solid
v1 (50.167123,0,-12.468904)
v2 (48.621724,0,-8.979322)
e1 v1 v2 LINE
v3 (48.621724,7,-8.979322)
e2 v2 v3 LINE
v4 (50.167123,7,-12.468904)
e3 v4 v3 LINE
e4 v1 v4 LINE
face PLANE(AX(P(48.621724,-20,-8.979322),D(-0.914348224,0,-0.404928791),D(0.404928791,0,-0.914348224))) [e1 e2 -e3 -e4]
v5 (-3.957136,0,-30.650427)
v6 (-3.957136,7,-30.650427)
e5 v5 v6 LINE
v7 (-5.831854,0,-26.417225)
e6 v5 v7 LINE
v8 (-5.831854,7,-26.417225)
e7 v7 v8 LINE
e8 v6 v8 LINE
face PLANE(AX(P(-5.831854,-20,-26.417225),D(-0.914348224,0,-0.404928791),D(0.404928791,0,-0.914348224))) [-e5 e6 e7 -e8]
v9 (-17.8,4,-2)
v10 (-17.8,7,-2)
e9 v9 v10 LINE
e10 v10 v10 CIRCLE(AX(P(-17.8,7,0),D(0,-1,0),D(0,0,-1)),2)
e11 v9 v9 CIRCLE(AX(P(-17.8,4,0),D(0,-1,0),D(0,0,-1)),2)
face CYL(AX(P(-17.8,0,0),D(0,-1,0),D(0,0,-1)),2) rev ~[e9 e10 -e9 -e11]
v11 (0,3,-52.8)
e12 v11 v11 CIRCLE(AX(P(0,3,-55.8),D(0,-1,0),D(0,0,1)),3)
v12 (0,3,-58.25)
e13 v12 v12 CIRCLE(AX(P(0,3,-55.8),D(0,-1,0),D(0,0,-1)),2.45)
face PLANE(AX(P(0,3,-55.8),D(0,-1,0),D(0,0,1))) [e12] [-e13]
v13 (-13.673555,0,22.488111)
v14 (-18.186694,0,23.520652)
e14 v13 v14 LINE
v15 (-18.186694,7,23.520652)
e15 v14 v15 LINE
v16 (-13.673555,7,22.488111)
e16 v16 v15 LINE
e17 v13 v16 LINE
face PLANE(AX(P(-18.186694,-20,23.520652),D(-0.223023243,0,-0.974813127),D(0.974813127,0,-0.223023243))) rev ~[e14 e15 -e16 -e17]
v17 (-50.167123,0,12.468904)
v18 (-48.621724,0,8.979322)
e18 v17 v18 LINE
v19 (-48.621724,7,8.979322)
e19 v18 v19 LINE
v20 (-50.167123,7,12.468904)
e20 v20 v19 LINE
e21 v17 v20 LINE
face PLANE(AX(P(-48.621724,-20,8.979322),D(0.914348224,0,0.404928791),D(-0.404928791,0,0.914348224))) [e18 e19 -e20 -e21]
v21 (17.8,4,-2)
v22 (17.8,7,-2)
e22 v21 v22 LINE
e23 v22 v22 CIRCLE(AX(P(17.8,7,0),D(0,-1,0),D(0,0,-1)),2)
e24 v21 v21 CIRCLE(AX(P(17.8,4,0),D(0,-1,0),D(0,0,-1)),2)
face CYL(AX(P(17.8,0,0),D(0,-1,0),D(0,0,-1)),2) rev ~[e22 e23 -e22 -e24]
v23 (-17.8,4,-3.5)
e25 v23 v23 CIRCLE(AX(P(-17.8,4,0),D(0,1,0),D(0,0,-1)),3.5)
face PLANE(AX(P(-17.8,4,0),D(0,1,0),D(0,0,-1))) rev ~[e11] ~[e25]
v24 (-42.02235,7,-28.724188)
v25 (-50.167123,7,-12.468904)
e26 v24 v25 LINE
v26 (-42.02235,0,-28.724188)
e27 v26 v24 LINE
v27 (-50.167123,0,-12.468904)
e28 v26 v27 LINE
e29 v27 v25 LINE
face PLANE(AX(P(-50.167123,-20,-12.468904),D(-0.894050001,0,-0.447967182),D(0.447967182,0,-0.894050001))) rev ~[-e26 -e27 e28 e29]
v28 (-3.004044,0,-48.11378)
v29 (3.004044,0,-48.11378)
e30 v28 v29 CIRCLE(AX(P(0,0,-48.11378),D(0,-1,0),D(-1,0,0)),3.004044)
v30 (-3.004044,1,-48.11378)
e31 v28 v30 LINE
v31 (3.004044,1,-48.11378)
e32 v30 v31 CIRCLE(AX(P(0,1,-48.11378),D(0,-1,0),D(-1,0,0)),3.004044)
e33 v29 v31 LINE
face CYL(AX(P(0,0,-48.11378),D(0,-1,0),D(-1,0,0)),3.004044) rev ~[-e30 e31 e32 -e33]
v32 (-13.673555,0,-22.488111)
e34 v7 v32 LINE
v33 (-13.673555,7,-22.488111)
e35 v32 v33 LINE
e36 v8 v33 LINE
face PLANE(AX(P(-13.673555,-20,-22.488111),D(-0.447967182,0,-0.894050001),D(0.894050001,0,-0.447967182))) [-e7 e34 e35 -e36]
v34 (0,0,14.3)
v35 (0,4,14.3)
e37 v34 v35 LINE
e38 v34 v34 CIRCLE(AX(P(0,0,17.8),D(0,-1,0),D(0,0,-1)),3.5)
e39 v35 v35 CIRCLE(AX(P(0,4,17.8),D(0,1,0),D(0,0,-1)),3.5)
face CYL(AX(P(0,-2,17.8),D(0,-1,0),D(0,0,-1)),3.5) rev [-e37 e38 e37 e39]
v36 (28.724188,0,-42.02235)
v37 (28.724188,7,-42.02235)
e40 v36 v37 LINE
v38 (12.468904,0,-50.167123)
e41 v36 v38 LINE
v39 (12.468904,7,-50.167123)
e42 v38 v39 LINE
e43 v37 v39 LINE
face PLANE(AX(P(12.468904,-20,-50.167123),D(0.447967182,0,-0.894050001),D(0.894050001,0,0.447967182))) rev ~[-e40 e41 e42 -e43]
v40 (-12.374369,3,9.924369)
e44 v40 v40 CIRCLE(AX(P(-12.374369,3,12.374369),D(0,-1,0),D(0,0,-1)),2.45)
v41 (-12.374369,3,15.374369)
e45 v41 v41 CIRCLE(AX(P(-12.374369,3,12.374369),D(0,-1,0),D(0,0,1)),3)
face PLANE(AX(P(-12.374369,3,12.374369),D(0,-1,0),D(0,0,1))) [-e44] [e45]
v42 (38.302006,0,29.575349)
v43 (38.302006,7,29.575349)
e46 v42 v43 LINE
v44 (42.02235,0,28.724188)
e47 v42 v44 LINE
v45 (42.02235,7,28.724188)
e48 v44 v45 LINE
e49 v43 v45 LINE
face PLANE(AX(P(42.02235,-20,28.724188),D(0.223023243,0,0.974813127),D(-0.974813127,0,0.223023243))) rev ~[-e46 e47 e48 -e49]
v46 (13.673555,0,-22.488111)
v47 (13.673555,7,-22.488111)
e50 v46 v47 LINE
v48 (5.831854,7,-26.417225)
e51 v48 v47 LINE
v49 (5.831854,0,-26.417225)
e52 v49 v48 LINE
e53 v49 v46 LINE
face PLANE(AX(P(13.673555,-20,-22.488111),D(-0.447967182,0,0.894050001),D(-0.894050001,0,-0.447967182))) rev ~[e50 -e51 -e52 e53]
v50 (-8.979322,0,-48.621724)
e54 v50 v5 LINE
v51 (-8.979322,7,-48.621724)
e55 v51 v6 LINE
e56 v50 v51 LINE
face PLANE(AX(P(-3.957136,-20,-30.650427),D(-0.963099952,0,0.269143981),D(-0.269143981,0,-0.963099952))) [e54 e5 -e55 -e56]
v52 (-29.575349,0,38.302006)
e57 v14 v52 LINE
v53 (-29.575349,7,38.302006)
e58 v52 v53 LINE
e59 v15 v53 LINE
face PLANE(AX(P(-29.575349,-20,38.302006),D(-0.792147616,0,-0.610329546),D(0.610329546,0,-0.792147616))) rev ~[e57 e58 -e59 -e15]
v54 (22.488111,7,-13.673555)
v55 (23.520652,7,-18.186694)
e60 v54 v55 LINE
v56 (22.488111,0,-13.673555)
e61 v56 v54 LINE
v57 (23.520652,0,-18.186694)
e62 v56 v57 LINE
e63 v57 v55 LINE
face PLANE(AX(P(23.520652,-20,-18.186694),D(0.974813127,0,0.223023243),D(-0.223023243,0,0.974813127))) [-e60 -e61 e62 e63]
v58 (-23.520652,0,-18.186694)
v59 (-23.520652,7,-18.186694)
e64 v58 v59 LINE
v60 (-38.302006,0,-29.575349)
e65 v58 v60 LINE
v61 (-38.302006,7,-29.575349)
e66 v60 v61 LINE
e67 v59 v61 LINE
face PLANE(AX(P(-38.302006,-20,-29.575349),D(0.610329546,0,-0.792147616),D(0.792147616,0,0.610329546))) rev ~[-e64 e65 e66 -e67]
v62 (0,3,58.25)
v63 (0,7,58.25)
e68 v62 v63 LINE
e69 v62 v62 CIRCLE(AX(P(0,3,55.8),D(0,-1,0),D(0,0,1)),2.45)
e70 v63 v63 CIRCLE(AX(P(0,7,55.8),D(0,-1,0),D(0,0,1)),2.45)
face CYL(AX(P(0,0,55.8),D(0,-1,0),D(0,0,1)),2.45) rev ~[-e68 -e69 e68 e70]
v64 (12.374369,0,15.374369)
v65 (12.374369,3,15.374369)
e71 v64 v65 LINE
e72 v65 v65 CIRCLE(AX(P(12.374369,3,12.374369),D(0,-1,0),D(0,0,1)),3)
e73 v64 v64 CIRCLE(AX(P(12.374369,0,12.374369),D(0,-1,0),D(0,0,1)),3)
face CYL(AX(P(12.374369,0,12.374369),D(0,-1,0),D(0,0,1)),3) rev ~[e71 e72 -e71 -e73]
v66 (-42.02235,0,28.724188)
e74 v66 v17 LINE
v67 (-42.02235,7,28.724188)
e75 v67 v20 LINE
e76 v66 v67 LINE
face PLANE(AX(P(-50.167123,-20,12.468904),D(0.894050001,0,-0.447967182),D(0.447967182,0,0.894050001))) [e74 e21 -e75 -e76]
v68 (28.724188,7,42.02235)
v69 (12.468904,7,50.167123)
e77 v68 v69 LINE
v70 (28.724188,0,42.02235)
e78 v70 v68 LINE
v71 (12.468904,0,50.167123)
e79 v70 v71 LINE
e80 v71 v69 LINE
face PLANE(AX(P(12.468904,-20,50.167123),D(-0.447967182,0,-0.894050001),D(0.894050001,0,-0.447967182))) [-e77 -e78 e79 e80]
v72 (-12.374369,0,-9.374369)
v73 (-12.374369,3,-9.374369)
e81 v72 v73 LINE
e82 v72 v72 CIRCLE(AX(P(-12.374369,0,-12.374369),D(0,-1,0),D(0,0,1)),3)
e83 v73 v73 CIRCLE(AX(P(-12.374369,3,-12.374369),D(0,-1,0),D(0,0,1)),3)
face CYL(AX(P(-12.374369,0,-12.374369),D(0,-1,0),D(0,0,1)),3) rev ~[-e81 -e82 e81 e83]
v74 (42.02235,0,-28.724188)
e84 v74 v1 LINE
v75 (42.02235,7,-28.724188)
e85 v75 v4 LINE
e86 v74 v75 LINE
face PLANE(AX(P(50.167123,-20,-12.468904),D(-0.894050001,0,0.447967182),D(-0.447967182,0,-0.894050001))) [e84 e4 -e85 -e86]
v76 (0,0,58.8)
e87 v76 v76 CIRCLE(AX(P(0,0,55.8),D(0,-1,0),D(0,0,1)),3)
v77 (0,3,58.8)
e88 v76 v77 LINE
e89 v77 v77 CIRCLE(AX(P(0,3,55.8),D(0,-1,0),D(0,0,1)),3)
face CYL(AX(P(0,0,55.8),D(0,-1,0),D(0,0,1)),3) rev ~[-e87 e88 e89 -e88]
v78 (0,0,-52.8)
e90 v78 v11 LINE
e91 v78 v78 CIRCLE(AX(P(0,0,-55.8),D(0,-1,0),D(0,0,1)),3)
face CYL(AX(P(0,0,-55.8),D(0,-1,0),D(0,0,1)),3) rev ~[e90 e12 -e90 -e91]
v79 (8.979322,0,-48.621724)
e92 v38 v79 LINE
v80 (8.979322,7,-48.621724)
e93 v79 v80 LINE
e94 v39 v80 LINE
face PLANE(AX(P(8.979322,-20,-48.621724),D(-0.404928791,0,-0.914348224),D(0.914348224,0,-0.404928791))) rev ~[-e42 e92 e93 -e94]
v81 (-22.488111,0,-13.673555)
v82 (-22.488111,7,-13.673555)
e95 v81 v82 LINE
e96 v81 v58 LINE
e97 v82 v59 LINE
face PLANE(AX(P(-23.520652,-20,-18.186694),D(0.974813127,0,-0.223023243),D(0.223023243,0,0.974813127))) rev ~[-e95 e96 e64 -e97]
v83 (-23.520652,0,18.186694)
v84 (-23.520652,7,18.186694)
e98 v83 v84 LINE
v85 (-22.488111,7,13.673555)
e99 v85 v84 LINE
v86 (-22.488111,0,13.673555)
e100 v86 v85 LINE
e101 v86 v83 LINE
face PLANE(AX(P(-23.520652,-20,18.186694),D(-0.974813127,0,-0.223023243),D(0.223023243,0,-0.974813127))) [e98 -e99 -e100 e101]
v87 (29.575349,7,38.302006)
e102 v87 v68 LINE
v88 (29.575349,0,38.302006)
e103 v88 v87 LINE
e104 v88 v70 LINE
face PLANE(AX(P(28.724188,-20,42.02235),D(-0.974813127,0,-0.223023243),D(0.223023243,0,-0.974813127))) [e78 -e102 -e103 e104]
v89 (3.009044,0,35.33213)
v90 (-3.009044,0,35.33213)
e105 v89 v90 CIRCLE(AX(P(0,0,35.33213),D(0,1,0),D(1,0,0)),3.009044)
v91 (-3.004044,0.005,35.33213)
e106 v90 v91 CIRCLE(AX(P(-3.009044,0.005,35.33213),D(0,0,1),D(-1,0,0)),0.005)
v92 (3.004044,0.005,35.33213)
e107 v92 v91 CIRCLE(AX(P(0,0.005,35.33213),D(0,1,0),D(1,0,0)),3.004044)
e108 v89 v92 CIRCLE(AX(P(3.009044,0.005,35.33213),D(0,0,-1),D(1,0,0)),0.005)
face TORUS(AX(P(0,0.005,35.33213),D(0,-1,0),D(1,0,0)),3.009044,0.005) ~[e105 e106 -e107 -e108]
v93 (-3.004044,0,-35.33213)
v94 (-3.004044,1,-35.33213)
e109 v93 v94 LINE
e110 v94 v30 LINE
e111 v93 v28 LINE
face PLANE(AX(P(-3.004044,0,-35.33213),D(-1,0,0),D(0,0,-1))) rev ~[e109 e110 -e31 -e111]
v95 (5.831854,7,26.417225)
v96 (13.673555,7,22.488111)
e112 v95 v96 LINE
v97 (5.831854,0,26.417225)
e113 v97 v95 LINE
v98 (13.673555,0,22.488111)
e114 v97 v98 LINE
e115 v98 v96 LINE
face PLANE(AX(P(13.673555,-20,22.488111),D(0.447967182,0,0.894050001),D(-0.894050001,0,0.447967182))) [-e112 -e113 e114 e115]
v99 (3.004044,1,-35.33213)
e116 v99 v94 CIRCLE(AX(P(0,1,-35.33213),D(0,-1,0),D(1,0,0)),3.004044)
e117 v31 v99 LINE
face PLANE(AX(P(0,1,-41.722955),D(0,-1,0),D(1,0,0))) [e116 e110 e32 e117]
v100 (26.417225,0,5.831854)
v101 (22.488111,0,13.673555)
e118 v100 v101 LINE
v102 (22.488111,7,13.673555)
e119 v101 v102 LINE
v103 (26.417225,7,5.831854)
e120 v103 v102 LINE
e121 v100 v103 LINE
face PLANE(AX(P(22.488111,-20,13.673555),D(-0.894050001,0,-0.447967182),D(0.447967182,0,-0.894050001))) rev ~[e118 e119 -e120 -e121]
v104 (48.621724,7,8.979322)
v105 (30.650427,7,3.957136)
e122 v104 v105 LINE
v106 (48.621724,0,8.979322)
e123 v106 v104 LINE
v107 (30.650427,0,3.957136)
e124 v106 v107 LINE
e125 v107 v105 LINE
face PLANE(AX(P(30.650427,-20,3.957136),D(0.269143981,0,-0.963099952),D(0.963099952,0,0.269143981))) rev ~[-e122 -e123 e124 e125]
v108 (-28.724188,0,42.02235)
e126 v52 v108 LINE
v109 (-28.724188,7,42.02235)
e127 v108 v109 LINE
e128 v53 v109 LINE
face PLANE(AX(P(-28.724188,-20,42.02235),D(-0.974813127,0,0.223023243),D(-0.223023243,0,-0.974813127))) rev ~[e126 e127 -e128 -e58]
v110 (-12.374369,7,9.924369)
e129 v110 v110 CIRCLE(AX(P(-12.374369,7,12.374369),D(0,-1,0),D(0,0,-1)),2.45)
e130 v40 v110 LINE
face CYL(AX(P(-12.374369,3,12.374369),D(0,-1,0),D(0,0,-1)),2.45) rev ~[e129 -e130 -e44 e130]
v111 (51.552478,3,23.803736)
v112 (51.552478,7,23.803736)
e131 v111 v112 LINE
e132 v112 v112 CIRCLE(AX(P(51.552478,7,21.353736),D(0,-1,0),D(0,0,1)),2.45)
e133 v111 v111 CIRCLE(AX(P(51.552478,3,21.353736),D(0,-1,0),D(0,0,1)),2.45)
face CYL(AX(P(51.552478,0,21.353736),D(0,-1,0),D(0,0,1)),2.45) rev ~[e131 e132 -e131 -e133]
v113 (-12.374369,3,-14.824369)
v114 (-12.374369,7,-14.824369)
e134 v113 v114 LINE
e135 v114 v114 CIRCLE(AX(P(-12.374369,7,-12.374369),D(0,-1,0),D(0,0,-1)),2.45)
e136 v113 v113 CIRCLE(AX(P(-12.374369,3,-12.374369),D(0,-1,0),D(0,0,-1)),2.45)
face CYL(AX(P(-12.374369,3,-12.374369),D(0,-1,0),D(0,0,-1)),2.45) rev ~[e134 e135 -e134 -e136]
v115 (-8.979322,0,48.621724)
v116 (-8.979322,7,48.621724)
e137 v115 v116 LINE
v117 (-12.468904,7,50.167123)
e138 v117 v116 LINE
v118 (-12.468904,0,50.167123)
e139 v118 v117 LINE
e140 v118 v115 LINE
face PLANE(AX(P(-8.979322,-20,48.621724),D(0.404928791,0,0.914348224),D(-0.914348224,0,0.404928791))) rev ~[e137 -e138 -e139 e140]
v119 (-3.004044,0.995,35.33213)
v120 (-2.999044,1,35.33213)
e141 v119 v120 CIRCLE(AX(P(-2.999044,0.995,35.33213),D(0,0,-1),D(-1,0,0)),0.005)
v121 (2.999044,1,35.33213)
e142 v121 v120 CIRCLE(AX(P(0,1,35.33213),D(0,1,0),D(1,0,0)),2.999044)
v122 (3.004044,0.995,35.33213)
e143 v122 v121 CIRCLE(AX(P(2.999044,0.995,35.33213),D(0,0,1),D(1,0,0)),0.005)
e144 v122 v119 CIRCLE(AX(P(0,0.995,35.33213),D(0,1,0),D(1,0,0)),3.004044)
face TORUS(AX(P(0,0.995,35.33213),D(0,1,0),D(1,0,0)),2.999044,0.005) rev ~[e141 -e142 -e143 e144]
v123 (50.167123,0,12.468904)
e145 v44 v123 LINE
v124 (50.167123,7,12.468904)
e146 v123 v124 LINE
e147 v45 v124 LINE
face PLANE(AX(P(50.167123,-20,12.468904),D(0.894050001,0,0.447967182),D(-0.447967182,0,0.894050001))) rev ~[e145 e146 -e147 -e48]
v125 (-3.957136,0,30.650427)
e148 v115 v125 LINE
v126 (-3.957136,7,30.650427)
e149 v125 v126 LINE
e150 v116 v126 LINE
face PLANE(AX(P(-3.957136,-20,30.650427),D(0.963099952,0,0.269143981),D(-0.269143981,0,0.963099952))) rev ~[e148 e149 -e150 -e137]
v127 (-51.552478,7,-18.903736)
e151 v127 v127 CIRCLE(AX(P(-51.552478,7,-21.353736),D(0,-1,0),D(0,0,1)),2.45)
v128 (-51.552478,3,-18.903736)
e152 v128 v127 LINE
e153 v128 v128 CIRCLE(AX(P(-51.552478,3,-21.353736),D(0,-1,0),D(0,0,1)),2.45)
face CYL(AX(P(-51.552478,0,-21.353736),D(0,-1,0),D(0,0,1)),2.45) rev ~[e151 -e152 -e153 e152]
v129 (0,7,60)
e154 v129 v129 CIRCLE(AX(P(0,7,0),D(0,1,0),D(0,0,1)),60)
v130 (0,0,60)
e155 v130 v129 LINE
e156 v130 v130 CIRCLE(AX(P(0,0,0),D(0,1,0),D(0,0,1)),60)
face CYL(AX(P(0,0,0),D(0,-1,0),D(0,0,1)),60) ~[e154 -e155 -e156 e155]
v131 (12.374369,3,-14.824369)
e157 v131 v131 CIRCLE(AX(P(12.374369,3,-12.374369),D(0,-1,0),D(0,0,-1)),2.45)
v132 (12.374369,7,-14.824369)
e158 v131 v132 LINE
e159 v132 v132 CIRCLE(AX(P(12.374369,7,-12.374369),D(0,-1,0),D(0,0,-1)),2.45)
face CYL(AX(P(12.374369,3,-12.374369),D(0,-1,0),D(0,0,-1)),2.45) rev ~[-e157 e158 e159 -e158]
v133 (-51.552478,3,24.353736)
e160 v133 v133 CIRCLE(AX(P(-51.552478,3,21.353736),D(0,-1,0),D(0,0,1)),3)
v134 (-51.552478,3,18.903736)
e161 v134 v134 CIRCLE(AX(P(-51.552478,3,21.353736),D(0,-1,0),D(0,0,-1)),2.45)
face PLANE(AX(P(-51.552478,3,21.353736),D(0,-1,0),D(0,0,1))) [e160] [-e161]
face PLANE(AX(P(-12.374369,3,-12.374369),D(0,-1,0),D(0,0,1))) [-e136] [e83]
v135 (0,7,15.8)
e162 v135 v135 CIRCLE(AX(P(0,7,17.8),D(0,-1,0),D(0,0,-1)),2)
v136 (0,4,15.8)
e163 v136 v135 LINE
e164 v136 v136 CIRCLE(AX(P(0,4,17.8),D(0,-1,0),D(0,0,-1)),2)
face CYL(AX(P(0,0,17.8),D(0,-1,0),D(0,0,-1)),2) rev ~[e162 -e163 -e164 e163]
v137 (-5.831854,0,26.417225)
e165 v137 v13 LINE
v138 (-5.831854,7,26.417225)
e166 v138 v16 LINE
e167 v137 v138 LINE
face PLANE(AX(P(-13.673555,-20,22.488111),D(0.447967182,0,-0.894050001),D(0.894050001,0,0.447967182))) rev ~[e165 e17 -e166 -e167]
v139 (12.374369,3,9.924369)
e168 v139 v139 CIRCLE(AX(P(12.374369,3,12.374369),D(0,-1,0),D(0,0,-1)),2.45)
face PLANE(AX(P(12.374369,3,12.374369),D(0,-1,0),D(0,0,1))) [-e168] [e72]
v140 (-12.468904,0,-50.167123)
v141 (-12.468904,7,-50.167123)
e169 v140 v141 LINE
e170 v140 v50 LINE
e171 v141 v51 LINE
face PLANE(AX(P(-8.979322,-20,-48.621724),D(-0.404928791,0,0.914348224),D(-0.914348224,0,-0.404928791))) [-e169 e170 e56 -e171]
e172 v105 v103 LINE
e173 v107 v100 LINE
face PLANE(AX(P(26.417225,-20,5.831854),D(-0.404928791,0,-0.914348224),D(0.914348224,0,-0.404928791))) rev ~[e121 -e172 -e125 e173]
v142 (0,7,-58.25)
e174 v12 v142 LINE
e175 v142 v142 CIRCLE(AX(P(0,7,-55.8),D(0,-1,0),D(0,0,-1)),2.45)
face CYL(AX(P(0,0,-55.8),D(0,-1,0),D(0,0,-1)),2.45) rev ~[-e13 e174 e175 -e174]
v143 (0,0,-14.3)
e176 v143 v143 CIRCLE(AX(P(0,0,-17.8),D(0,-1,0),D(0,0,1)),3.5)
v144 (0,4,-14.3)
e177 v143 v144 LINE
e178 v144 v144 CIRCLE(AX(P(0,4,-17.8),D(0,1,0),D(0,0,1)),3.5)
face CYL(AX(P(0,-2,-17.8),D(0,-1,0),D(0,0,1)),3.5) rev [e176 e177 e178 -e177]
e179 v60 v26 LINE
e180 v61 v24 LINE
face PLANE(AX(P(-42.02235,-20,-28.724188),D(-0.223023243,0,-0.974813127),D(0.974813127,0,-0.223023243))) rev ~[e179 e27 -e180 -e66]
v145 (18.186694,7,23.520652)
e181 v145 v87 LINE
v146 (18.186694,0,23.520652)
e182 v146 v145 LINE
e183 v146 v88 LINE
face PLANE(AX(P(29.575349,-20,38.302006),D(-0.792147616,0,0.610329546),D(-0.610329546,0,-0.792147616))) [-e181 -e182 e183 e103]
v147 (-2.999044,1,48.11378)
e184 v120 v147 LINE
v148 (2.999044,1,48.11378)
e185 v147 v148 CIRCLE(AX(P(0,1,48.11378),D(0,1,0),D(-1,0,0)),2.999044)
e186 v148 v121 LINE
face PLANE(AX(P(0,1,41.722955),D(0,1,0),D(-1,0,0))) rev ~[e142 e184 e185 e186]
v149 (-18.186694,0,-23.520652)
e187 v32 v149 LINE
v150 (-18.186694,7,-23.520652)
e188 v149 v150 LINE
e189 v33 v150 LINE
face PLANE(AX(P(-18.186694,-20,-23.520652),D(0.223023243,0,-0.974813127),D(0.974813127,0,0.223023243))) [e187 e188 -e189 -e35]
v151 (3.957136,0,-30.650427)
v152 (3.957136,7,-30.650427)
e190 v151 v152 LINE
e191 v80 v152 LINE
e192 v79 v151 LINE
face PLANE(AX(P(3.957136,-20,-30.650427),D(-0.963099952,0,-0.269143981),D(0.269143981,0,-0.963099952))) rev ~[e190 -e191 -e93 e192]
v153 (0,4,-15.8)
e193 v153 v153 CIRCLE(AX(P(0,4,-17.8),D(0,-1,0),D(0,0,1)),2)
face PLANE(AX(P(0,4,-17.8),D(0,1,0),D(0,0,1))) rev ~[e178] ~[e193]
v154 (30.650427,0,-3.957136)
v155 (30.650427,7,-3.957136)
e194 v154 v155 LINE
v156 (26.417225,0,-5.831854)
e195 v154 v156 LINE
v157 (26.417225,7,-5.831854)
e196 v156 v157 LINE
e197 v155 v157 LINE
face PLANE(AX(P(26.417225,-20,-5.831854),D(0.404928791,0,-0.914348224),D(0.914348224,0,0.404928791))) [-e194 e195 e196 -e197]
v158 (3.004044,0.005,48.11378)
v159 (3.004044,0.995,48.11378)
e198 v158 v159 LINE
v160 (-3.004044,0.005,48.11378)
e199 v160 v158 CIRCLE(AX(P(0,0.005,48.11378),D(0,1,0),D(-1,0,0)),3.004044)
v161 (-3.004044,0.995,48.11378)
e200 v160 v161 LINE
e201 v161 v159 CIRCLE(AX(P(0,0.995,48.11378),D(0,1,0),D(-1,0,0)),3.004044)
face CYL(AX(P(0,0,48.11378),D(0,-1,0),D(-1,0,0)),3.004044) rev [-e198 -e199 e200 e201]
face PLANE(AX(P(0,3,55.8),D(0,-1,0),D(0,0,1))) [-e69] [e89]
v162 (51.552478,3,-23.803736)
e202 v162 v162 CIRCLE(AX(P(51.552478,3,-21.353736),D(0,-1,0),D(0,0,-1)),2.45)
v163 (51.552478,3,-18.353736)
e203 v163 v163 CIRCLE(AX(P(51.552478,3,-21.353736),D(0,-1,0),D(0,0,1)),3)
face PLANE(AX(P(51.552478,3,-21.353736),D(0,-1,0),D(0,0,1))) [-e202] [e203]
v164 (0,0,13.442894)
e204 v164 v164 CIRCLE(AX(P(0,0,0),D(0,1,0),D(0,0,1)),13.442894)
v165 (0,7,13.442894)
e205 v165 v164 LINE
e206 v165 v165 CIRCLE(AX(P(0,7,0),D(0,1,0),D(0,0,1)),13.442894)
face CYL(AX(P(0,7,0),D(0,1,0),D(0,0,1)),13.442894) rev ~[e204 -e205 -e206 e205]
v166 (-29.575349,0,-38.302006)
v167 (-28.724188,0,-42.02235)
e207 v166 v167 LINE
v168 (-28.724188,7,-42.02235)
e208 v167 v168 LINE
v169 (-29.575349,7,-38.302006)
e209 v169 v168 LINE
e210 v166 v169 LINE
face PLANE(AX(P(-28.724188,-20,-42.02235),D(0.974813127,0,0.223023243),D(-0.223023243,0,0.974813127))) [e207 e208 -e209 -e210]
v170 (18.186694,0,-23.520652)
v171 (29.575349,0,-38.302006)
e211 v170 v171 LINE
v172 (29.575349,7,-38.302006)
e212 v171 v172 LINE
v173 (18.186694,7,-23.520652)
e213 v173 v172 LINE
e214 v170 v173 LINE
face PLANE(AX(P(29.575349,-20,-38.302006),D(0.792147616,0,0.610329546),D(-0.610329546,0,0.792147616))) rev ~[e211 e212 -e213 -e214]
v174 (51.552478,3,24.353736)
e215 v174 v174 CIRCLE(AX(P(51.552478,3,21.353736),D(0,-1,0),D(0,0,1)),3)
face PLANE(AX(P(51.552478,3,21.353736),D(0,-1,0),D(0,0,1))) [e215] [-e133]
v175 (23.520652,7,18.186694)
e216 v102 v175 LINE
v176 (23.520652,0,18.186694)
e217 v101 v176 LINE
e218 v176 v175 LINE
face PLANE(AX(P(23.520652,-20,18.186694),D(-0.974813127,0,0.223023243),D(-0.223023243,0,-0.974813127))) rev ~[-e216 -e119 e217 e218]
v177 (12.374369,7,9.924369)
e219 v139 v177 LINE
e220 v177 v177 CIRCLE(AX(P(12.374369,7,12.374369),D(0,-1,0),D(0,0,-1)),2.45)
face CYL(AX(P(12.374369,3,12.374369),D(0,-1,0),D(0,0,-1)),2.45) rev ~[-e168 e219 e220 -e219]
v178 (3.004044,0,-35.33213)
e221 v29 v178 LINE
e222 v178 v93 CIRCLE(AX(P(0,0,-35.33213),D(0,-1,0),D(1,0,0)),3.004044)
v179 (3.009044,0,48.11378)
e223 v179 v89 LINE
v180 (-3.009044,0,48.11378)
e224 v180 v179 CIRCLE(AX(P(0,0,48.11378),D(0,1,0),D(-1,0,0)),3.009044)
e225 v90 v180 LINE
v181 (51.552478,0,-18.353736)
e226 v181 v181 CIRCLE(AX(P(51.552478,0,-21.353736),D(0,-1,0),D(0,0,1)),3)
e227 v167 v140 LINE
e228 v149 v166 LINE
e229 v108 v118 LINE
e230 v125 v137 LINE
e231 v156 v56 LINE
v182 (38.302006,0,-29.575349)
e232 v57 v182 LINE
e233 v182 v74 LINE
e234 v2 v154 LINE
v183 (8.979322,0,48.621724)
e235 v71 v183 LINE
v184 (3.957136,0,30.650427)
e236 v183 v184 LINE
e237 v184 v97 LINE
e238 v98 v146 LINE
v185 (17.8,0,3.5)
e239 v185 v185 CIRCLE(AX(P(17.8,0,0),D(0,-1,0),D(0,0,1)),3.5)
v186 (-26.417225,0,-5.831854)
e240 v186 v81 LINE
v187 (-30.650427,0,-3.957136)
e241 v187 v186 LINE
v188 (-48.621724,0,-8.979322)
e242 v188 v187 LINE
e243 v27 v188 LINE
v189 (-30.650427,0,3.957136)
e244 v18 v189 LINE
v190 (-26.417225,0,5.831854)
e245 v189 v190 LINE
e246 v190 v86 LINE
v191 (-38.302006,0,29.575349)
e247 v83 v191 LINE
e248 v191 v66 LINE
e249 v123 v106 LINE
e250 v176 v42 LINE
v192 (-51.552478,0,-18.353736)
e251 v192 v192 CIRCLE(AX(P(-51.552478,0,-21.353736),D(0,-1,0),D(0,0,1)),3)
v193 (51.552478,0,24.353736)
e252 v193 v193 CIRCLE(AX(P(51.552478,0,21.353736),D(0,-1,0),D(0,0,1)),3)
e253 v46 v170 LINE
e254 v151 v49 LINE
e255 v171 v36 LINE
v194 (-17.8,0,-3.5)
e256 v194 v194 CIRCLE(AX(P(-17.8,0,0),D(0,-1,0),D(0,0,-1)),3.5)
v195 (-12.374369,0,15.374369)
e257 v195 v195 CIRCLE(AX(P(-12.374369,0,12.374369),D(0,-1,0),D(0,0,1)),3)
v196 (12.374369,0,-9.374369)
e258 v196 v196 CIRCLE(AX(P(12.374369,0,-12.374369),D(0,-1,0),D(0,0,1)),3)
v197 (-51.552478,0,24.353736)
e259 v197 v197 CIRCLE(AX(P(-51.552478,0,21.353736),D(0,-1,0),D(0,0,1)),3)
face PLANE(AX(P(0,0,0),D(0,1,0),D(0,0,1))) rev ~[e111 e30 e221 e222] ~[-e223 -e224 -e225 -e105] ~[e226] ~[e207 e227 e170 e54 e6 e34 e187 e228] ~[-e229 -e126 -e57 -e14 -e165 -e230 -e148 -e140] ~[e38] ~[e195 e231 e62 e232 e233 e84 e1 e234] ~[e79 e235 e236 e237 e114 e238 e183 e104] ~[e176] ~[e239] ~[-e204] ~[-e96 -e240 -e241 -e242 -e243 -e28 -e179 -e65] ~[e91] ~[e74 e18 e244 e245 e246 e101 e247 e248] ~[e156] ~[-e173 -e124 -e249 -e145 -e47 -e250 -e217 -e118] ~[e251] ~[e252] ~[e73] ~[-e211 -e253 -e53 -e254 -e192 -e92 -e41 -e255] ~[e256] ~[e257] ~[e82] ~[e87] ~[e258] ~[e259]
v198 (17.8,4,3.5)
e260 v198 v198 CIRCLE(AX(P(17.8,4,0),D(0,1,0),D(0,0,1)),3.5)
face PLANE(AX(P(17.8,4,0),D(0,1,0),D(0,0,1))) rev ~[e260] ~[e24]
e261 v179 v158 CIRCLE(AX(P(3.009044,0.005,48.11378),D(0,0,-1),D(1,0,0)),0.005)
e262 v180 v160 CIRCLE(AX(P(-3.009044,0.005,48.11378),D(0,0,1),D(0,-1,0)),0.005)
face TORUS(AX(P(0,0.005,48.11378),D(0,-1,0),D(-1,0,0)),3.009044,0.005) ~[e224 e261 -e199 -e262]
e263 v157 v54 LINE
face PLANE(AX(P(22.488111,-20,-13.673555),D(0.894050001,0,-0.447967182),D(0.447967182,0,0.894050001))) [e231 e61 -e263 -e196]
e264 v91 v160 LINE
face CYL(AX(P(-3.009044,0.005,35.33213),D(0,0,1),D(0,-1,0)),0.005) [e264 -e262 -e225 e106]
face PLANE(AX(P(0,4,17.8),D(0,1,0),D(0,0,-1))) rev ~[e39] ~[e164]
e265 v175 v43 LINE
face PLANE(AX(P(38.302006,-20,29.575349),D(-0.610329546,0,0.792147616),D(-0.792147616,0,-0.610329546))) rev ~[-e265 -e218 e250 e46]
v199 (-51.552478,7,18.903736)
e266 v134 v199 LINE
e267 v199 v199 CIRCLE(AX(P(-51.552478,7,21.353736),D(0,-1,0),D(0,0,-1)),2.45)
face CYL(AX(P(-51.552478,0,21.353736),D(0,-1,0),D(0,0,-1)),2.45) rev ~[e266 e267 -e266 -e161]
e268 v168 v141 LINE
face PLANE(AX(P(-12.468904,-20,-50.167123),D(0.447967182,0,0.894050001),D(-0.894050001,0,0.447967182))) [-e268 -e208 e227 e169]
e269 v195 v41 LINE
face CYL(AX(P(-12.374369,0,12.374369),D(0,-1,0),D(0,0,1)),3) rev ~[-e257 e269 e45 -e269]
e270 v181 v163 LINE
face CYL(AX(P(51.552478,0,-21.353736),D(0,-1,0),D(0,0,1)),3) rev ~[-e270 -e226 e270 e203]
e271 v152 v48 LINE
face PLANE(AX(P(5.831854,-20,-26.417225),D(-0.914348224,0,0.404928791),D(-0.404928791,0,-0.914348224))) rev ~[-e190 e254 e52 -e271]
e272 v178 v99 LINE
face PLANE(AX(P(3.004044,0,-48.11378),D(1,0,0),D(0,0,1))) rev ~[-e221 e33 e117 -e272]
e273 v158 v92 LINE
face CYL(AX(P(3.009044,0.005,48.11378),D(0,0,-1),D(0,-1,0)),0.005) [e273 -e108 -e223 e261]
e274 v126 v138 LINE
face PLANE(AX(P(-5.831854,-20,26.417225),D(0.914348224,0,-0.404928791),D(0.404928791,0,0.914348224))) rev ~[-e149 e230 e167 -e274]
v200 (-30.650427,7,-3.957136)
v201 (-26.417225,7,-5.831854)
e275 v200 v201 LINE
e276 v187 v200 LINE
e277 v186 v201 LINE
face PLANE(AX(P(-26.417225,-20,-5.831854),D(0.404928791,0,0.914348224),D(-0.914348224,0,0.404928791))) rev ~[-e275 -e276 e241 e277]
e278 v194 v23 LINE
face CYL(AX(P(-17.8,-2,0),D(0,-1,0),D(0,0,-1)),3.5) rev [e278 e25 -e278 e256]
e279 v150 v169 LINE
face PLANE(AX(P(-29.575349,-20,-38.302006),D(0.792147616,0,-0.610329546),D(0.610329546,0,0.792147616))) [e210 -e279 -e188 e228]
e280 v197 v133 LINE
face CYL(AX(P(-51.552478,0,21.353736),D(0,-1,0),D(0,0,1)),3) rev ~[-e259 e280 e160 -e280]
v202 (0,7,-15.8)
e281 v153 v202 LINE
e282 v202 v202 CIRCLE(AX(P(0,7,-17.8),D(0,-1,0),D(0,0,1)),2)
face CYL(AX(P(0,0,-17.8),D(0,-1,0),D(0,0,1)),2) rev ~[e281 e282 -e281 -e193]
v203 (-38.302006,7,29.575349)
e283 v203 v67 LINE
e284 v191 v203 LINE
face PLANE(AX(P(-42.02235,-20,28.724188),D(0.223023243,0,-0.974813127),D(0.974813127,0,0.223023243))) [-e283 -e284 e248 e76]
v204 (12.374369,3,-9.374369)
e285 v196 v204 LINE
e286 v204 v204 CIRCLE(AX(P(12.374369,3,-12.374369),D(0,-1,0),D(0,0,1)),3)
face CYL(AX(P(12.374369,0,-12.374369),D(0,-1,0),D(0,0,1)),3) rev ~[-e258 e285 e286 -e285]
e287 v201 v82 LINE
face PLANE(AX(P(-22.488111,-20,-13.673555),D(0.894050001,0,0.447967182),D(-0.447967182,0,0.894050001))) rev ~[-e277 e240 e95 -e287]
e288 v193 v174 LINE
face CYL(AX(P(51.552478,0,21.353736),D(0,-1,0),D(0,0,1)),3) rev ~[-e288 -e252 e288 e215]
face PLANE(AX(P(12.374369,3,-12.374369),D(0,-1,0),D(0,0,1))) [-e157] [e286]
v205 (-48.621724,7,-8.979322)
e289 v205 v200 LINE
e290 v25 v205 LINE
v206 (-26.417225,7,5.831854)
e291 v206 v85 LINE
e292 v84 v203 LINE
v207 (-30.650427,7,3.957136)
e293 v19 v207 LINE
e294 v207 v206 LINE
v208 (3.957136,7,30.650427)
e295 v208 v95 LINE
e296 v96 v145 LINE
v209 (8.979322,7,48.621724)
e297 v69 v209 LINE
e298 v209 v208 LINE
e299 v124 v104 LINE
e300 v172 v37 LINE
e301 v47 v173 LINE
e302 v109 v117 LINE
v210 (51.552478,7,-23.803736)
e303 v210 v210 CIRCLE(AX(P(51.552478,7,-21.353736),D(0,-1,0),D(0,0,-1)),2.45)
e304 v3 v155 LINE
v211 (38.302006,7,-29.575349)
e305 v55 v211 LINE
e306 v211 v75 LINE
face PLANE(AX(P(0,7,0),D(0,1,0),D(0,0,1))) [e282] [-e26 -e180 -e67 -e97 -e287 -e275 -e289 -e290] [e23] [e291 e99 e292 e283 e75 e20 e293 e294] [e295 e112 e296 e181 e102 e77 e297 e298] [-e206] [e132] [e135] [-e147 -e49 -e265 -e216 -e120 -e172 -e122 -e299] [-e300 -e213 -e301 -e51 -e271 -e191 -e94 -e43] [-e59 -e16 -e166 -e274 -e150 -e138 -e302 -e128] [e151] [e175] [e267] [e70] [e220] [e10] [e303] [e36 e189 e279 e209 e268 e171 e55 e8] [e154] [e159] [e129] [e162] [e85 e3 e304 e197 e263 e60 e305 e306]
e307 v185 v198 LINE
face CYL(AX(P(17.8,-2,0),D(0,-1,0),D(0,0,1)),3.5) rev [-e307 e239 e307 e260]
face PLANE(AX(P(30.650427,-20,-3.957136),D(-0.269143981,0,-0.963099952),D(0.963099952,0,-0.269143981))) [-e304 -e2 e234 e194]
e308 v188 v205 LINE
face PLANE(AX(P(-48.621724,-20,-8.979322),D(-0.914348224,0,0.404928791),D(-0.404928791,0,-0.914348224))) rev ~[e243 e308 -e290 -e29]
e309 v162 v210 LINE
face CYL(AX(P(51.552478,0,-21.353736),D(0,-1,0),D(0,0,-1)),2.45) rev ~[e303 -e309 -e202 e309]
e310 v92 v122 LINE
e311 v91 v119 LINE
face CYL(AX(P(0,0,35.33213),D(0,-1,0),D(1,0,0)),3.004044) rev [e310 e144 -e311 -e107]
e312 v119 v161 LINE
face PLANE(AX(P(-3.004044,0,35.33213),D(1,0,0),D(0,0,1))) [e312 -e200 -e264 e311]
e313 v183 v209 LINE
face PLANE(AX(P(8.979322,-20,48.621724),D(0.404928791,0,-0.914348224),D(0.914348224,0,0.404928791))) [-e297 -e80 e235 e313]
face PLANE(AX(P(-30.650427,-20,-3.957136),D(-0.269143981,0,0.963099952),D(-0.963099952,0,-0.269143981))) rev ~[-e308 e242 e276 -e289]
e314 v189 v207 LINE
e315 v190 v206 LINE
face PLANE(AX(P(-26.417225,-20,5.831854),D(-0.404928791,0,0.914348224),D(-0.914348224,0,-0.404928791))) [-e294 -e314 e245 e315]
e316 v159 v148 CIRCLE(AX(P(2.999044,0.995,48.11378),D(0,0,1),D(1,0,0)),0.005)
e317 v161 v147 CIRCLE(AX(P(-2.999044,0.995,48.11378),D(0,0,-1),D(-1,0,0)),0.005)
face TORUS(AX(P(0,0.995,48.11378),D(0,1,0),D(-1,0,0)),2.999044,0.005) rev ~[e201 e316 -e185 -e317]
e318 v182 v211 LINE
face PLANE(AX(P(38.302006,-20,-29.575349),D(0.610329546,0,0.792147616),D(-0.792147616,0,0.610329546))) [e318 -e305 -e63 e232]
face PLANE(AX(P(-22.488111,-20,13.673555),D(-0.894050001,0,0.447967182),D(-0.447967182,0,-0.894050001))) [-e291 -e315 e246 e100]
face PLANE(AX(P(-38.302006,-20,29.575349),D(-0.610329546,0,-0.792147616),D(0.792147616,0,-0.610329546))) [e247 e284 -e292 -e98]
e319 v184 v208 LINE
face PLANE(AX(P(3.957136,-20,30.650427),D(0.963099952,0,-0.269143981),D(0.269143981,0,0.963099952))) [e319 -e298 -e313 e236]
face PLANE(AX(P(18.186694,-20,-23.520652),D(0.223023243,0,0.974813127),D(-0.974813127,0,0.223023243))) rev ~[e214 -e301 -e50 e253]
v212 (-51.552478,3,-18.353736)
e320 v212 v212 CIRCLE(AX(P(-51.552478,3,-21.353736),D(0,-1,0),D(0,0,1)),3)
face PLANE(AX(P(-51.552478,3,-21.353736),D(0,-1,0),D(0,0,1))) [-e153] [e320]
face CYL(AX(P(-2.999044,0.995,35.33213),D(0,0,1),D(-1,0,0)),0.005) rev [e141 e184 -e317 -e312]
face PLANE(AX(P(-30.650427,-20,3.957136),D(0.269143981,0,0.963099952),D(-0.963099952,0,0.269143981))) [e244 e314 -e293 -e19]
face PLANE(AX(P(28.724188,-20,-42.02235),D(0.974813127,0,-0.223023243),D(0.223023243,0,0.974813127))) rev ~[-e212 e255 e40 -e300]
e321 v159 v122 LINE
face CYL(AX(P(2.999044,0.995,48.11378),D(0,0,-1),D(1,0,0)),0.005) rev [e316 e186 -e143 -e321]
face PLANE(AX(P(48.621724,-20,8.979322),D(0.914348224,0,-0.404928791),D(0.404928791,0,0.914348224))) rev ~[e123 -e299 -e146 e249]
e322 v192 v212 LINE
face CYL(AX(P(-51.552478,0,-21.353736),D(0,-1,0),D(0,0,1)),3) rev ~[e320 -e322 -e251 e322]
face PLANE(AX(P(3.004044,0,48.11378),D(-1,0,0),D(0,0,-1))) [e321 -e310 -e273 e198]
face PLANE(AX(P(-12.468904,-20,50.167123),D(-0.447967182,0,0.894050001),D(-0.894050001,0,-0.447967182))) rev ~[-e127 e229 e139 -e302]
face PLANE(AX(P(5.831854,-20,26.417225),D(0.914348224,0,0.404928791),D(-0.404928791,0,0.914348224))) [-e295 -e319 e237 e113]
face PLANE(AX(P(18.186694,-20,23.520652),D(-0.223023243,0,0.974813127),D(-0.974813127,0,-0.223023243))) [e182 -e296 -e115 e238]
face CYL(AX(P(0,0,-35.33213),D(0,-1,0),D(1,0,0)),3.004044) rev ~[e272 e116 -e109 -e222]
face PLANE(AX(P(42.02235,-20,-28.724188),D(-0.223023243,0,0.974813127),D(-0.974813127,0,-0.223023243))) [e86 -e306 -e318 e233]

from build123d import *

# Parameters (mm, degrees)
SKETCH1_R               = 60
BOSS_EXTRUDE1_DEPTH     = 7
CUT_EXTRUDE1_DEPTH      = 86.141059425
CUT_EXTRUDE1_DEPTH_BACK = 20
SKETCH7_R               = 13.442894491
CUT_EXTRUDE2_DEPTH      = 20
CUT_EXTRUDE3_DEPTH      = 4
CUT_EXTRUDE3_DEPTH_BACK = 2
SKETCH9_R               = 3.5
SKETCH13_R              = 2
CUT_EXTRUDE4_DEPTH      = 86.141059425
SKETCH14_R              = 3
CUT_EXTRUDE5_DEPTH      = 3
SKETCH15_R              = 2.45
CUT_EXTRUDE6_DEPTH      = 85.947042326
SKETCH16_R              = 3
CUT_EXTRUDE7_DEPTH      = 3
SKETCH17_R              = 2.45
CUT_EXTRUDE8_DEPTH      = 86.141059425
CUT_EXTRUDE9_DEPTH      = 1
FILLET2_R               = 0.005


with BuildPart() as part:
    # Sketch1 → Boss-Extrude1 (new body)
    with BuildSketch(Plane(origin=(0, 0, 0), x_dir=(1, 0, 0), z_dir=(0, 1, 0))):
        with Locations(Location((0, 0, 0), (0, 0, 270))):
            Circle(SKETCH1_R)
    extrude(amount=BOSS_EXTRUDE1_DEPTH)

    # Sketch5 → Cut-Extrude1 (cut, two sides: drawn at the far end of the back side and taken through both)
    with BuildSketch(Plane(origin=(0, 0, 0), x_dir=(1, 0, 0), z_dir=(0, 1, 0)).offset(-CUT_EXTRUDE1_DEPTH_BACK)):
        Polygon((-12.468903546, 50.167122687), (-28.724188041, 42.022350038), (-29.575349406, 38.302005643), (-18.186693565, 23.520652463), (-13.673554926, 22.488111162), (-5.8318542, 26.41722539), (-3.957136141, 30.650426793), (-8.979321601, 48.621724378), align=None)
        Polygon((-22.488111162, 13.673554926), (-26.41722539, 5.8318542), (-30.650426793, 3.957136141), (-48.621724378, 8.979321601), (-50.167122687, 12.468903546), (-42.022350038, 28.724188041), (-38.302005643, 29.575349406), (-23.520652463, 18.186693565), align=None)
        Polygon((22.488111162, 13.673554926), (26.41722539, 5.8318542), (30.650426793, 3.957136141), (48.621724378, 8.979321601), (50.167122687, 12.468903546), (42.022350038, 28.724188041), (38.302005643, 29.575349406), (23.520652463, 18.186693565), align=None)
        Polygon((13.673554926, 22.488111162), (5.8318542, 26.41722539), (3.957136141, 30.650426793), (8.979321601, 48.621724378), (12.468903546, 50.167122687), (28.724188041, 42.022350038), (29.575349406, 38.302005643), (18.186693565, 23.520652463), align=None)
        Polygon((22.488111162, -13.673554926), (26.41722539, -5.8318542), (30.650426793, -3.957136141), (48.621724378, -8.979321601), (50.167122687, -12.468903546), (42.022350038, -28.724188041), (38.302005643, -29.575349406), (23.520652463, -18.186693565), align=None)
        Polygon((13.673554926, -22.488111162), (5.8318542, -26.41722539), (3.957136141, -30.650426793), (8.979321601, -48.621724378), (12.468903546, -50.167122687), (28.724188041, -42.022350038), (29.575349406, -38.302005643), (18.186693565, -23.520652463), align=None)
        Polygon((-13.673554926, -22.488111162), (-5.8318542, -26.41722539), (-3.957136141, -30.650426793), (-8.979321601, -48.621724378), (-12.468903546, -50.167122687), (-28.724188041, -42.022350038), (-29.575349406, -38.302005643), (-18.186693565, -23.520652463), align=None)
        Polygon((-22.488111162, -13.673554926), (-26.41722539, -5.8318542), (-30.650426793, -3.957136141), (-48.621724378, -8.979321601), (-50.167122687, -12.468903546), (-42.022350038, -28.724188041), (-38.302005643, -29.575349406), (-23.520652463, -18.186693565), align=None)
    extrude(amount=CUT_EXTRUDE1_DEPTH + CUT_EXTRUDE1_DEPTH_BACK, mode=Mode.SUBTRACT)

    # Sketch7 → Cut-Extrude2 (cut)
    with BuildSketch(Plane(origin=(0, 7, 0), x_dir=(1, 0, 0), z_dir=(0, 1, 0))):
        with Locations(Location((0, 0, 0), (0, 0, 270))):
            Circle(SKETCH7_R)
    extrude(amount=-CUT_EXTRUDE2_DEPTH, mode=Mode.SUBTRACT)

    # Sketch9 → Cut-Extrude3 (cut, two sides: drawn at the far end of the back side and taken through both)
    with BuildSketch(Plane(origin=(0, 0, 0), x_dir=(1, 0, 0), z_dir=(0, 1, 0)).offset(-CUT_EXTRUDE3_DEPTH_BACK)):
        with Locations(Location((0, 17.8, 0), (0, 0, 270))):
            Circle(SKETCH9_R)
        with Locations(Location((17.8, 0, 0), (0, 0, 270))):
            Circle(SKETCH9_R)
        with Locations(Location((0, -17.8, 0), (0, 0, 90))):
            Circle(SKETCH9_R)
        with Locations(Location((-17.8, 0, 0), (0, 0, 90))):
            Circle(SKETCH9_R)
    extrude(amount=CUT_EXTRUDE3_DEPTH + CUT_EXTRUDE3_DEPTH_BACK, mode=Mode.SUBTRACT)

    # Sketch13 → Cut-Extrude4 (cut, through all)
    with BuildSketch(Plane(origin=(0, 0, 0), x_dir=(-1, 0, 0), z_dir=(0, -1, 0))):
        with Locations(Location((0, -17.8, 0), (0, 0, 90))):
            Circle(SKETCH13_R)
        with Locations(Location((-17.8, 0, 0), (0, 0, 90))):
            Circle(SKETCH13_R)
        with Locations(Location((0, 17.8, 0), (0, 0, 270))):
            Circle(SKETCH13_R)
        with Locations(Location((17.8, 0, 0), (0, 0, 90))):
            Circle(SKETCH13_R)
    extrude(amount=-CUT_EXTRUDE4_DEPTH, mode=Mode.SUBTRACT)

    # Sketch14 → Cut-Extrude5 (cut)
    with BuildSketch(Plane(origin=(0, 0, 0), x_dir=(-1, 0, 0), z_dir=(0, -1, 0))):
        with Locations(Location((12.374368671, -12.374368671, 0), (0, 0, 270))):
            Circle(SKETCH14_R)
        with Locations(Location((-12.374368671, -12.374368671, 0), (0, 0, 270))):
            Circle(SKETCH14_R)
        with Locations(Location((-12.374368671, 12.374368671, 0), (0, 0, 270))):
            Circle(SKETCH14_R)
        with Locations(Location((12.374368671, 12.374368671, 0), (0, 0, 270))):
            Circle(SKETCH14_R)
    extrude(amount=-CUT_EXTRUDE5_DEPTH, mode=Mode.SUBTRACT)

    # Sketch15 → Cut-Extrude6 (cut, through all)
    with BuildSketch(Plane(origin=(0, 3, 0), x_dir=(-1, 0, 0), z_dir=(0, -1, 0))):
        with Locations(Location((-12.374368671, -12.374368671, 0), (0, 0, 90))):
            Circle(SKETCH15_R)
        with Locations(Location((12.374368671, -12.374368671, 0), (0, 0, 90))):
            Circle(SKETCH15_R)
        with Locations(Location((12.374368671, 12.374368671, 0), (0, 0, 90))):
            Circle(SKETCH15_R)
        with Locations(Location((-12.374368671, 12.374368671, 0), (0, 0, 90))):
            Circle(SKETCH15_R)
    extrude(amount=-CUT_EXTRUDE6_DEPTH, mode=Mode.SUBTRACT)

    # Sketch16 → Cut-Extrude7 (cut)
    with BuildSketch(Plane(origin=(0, 0, 0), x_dir=(-1, 0, 0), z_dir=(0, -1, 0))):
        with Locations(Location((-51.552477914, 21.353735526, 0), (0, 0, 270))):
            Circle(SKETCH16_R)
        with Locations(Location((-51.552477914, -21.353735526, 0), (0, 0, 270))):
            Circle(SKETCH16_R)
        with Locations(Location((51.552477914, 21.353735526, 0), (0, 0, 270))):
            Circle(SKETCH16_R)
        with Locations(Location((51.552477914, -21.353735526, 0), (0, 0, 270))):
            Circle(SKETCH16_R)
        with Locations(Location((0, 55.8, 0), (0, 0, 270))):
            Circle(SKETCH16_R)
        with Locations(Location((0, -55.8, 0), (0, 0, 270))):
            Circle(SKETCH16_R)
    extrude(amount=-CUT_EXTRUDE7_DEPTH, mode=Mode.SUBTRACT)

    # Sketch17 → Cut-Extrude8 (cut, through all)
    with BuildSketch(Plane.XZ):
        with Locations(Location((-51.552477914, 21.353735526, 0), (0, 0, 270))):
            Circle(SKETCH17_R)
        with Locations(Location((-51.552477914, -21.353735526, 0), (0, 0, 90))):
            Circle(SKETCH17_R)
        with Locations(Location((51.552477914, -21.353735526, 0), (0, 0, 270))):
            Circle(SKETCH17_R)
        with Locations(Location((51.552477914, 21.353735526, 0), (0, 0, 90))):
            Circle(SKETCH17_R)
        with Locations(Location((0, -55.8, 0), (0, 0, 270))):
            Circle(SKETCH17_R)
        with Locations(Location((0, 55.8, 0), (0, 0, 90))):
            Circle(SKETCH17_R)
    extrude(amount=-CUT_EXTRUDE8_DEPTH, mode=Mode.SUBTRACT)

    # Sketch18 → Cut-Extrude9 (cut)
    with BuildSketch(Plane.XZ):
        with BuildLine():
            Line((3.004044194, 48.113779502), (3.004044194, 35.332130299))
            ThreePointArc((3.004044194, 35.332130299), (0, 32.328086105), (-3.004044194, 35.332130299))
            Line((-3.004044194, 35.332130299), (-3.004044194, 48.113779502))
            ThreePointArc((-3.004044194, 48.113779502), (0, 51.117823696), (3.004044194, 48.113779502))
        make_face()
        with BuildLine():
            Line((3.004044194, -48.113779502), (3.004044194, -35.332130299))
            ThreePointArc((3.004044194, -35.332130299), (0, -32.328086105), (-3.004044194, -35.332130299))
            Line((-3.004044194, -35.332130299), (-3.004044194, -48.113779502))
            ThreePointArc((-3.004044194, -48.113779502), (0, -51.117823696), (3.004044194, -48.113779502))
        make_face()
    extrude(amount=-CUT_EXTRUDE9_DEPTH, mode=Mode.SUBTRACT)

    # Fillet2
    fillet2_edges = [part.edges().sort_by_distance(p)[0] for p in [
        (0, 0, 32.328086105),
        (-3.004044194, 1, 41.7229549),
        (0, 0, 51.117823696),
        (3.004044194, 1, 41.7229549),
        (0, 1, 32.328086105),
        (0, 1, 51.117823696),
        (3.004044194, 0, 41.7229549),
        (-3.004044194, 0, 41.7229549),
    ]]
    fillet(fillet2_edges, radius=FILLET2_R)


solid = part.part
